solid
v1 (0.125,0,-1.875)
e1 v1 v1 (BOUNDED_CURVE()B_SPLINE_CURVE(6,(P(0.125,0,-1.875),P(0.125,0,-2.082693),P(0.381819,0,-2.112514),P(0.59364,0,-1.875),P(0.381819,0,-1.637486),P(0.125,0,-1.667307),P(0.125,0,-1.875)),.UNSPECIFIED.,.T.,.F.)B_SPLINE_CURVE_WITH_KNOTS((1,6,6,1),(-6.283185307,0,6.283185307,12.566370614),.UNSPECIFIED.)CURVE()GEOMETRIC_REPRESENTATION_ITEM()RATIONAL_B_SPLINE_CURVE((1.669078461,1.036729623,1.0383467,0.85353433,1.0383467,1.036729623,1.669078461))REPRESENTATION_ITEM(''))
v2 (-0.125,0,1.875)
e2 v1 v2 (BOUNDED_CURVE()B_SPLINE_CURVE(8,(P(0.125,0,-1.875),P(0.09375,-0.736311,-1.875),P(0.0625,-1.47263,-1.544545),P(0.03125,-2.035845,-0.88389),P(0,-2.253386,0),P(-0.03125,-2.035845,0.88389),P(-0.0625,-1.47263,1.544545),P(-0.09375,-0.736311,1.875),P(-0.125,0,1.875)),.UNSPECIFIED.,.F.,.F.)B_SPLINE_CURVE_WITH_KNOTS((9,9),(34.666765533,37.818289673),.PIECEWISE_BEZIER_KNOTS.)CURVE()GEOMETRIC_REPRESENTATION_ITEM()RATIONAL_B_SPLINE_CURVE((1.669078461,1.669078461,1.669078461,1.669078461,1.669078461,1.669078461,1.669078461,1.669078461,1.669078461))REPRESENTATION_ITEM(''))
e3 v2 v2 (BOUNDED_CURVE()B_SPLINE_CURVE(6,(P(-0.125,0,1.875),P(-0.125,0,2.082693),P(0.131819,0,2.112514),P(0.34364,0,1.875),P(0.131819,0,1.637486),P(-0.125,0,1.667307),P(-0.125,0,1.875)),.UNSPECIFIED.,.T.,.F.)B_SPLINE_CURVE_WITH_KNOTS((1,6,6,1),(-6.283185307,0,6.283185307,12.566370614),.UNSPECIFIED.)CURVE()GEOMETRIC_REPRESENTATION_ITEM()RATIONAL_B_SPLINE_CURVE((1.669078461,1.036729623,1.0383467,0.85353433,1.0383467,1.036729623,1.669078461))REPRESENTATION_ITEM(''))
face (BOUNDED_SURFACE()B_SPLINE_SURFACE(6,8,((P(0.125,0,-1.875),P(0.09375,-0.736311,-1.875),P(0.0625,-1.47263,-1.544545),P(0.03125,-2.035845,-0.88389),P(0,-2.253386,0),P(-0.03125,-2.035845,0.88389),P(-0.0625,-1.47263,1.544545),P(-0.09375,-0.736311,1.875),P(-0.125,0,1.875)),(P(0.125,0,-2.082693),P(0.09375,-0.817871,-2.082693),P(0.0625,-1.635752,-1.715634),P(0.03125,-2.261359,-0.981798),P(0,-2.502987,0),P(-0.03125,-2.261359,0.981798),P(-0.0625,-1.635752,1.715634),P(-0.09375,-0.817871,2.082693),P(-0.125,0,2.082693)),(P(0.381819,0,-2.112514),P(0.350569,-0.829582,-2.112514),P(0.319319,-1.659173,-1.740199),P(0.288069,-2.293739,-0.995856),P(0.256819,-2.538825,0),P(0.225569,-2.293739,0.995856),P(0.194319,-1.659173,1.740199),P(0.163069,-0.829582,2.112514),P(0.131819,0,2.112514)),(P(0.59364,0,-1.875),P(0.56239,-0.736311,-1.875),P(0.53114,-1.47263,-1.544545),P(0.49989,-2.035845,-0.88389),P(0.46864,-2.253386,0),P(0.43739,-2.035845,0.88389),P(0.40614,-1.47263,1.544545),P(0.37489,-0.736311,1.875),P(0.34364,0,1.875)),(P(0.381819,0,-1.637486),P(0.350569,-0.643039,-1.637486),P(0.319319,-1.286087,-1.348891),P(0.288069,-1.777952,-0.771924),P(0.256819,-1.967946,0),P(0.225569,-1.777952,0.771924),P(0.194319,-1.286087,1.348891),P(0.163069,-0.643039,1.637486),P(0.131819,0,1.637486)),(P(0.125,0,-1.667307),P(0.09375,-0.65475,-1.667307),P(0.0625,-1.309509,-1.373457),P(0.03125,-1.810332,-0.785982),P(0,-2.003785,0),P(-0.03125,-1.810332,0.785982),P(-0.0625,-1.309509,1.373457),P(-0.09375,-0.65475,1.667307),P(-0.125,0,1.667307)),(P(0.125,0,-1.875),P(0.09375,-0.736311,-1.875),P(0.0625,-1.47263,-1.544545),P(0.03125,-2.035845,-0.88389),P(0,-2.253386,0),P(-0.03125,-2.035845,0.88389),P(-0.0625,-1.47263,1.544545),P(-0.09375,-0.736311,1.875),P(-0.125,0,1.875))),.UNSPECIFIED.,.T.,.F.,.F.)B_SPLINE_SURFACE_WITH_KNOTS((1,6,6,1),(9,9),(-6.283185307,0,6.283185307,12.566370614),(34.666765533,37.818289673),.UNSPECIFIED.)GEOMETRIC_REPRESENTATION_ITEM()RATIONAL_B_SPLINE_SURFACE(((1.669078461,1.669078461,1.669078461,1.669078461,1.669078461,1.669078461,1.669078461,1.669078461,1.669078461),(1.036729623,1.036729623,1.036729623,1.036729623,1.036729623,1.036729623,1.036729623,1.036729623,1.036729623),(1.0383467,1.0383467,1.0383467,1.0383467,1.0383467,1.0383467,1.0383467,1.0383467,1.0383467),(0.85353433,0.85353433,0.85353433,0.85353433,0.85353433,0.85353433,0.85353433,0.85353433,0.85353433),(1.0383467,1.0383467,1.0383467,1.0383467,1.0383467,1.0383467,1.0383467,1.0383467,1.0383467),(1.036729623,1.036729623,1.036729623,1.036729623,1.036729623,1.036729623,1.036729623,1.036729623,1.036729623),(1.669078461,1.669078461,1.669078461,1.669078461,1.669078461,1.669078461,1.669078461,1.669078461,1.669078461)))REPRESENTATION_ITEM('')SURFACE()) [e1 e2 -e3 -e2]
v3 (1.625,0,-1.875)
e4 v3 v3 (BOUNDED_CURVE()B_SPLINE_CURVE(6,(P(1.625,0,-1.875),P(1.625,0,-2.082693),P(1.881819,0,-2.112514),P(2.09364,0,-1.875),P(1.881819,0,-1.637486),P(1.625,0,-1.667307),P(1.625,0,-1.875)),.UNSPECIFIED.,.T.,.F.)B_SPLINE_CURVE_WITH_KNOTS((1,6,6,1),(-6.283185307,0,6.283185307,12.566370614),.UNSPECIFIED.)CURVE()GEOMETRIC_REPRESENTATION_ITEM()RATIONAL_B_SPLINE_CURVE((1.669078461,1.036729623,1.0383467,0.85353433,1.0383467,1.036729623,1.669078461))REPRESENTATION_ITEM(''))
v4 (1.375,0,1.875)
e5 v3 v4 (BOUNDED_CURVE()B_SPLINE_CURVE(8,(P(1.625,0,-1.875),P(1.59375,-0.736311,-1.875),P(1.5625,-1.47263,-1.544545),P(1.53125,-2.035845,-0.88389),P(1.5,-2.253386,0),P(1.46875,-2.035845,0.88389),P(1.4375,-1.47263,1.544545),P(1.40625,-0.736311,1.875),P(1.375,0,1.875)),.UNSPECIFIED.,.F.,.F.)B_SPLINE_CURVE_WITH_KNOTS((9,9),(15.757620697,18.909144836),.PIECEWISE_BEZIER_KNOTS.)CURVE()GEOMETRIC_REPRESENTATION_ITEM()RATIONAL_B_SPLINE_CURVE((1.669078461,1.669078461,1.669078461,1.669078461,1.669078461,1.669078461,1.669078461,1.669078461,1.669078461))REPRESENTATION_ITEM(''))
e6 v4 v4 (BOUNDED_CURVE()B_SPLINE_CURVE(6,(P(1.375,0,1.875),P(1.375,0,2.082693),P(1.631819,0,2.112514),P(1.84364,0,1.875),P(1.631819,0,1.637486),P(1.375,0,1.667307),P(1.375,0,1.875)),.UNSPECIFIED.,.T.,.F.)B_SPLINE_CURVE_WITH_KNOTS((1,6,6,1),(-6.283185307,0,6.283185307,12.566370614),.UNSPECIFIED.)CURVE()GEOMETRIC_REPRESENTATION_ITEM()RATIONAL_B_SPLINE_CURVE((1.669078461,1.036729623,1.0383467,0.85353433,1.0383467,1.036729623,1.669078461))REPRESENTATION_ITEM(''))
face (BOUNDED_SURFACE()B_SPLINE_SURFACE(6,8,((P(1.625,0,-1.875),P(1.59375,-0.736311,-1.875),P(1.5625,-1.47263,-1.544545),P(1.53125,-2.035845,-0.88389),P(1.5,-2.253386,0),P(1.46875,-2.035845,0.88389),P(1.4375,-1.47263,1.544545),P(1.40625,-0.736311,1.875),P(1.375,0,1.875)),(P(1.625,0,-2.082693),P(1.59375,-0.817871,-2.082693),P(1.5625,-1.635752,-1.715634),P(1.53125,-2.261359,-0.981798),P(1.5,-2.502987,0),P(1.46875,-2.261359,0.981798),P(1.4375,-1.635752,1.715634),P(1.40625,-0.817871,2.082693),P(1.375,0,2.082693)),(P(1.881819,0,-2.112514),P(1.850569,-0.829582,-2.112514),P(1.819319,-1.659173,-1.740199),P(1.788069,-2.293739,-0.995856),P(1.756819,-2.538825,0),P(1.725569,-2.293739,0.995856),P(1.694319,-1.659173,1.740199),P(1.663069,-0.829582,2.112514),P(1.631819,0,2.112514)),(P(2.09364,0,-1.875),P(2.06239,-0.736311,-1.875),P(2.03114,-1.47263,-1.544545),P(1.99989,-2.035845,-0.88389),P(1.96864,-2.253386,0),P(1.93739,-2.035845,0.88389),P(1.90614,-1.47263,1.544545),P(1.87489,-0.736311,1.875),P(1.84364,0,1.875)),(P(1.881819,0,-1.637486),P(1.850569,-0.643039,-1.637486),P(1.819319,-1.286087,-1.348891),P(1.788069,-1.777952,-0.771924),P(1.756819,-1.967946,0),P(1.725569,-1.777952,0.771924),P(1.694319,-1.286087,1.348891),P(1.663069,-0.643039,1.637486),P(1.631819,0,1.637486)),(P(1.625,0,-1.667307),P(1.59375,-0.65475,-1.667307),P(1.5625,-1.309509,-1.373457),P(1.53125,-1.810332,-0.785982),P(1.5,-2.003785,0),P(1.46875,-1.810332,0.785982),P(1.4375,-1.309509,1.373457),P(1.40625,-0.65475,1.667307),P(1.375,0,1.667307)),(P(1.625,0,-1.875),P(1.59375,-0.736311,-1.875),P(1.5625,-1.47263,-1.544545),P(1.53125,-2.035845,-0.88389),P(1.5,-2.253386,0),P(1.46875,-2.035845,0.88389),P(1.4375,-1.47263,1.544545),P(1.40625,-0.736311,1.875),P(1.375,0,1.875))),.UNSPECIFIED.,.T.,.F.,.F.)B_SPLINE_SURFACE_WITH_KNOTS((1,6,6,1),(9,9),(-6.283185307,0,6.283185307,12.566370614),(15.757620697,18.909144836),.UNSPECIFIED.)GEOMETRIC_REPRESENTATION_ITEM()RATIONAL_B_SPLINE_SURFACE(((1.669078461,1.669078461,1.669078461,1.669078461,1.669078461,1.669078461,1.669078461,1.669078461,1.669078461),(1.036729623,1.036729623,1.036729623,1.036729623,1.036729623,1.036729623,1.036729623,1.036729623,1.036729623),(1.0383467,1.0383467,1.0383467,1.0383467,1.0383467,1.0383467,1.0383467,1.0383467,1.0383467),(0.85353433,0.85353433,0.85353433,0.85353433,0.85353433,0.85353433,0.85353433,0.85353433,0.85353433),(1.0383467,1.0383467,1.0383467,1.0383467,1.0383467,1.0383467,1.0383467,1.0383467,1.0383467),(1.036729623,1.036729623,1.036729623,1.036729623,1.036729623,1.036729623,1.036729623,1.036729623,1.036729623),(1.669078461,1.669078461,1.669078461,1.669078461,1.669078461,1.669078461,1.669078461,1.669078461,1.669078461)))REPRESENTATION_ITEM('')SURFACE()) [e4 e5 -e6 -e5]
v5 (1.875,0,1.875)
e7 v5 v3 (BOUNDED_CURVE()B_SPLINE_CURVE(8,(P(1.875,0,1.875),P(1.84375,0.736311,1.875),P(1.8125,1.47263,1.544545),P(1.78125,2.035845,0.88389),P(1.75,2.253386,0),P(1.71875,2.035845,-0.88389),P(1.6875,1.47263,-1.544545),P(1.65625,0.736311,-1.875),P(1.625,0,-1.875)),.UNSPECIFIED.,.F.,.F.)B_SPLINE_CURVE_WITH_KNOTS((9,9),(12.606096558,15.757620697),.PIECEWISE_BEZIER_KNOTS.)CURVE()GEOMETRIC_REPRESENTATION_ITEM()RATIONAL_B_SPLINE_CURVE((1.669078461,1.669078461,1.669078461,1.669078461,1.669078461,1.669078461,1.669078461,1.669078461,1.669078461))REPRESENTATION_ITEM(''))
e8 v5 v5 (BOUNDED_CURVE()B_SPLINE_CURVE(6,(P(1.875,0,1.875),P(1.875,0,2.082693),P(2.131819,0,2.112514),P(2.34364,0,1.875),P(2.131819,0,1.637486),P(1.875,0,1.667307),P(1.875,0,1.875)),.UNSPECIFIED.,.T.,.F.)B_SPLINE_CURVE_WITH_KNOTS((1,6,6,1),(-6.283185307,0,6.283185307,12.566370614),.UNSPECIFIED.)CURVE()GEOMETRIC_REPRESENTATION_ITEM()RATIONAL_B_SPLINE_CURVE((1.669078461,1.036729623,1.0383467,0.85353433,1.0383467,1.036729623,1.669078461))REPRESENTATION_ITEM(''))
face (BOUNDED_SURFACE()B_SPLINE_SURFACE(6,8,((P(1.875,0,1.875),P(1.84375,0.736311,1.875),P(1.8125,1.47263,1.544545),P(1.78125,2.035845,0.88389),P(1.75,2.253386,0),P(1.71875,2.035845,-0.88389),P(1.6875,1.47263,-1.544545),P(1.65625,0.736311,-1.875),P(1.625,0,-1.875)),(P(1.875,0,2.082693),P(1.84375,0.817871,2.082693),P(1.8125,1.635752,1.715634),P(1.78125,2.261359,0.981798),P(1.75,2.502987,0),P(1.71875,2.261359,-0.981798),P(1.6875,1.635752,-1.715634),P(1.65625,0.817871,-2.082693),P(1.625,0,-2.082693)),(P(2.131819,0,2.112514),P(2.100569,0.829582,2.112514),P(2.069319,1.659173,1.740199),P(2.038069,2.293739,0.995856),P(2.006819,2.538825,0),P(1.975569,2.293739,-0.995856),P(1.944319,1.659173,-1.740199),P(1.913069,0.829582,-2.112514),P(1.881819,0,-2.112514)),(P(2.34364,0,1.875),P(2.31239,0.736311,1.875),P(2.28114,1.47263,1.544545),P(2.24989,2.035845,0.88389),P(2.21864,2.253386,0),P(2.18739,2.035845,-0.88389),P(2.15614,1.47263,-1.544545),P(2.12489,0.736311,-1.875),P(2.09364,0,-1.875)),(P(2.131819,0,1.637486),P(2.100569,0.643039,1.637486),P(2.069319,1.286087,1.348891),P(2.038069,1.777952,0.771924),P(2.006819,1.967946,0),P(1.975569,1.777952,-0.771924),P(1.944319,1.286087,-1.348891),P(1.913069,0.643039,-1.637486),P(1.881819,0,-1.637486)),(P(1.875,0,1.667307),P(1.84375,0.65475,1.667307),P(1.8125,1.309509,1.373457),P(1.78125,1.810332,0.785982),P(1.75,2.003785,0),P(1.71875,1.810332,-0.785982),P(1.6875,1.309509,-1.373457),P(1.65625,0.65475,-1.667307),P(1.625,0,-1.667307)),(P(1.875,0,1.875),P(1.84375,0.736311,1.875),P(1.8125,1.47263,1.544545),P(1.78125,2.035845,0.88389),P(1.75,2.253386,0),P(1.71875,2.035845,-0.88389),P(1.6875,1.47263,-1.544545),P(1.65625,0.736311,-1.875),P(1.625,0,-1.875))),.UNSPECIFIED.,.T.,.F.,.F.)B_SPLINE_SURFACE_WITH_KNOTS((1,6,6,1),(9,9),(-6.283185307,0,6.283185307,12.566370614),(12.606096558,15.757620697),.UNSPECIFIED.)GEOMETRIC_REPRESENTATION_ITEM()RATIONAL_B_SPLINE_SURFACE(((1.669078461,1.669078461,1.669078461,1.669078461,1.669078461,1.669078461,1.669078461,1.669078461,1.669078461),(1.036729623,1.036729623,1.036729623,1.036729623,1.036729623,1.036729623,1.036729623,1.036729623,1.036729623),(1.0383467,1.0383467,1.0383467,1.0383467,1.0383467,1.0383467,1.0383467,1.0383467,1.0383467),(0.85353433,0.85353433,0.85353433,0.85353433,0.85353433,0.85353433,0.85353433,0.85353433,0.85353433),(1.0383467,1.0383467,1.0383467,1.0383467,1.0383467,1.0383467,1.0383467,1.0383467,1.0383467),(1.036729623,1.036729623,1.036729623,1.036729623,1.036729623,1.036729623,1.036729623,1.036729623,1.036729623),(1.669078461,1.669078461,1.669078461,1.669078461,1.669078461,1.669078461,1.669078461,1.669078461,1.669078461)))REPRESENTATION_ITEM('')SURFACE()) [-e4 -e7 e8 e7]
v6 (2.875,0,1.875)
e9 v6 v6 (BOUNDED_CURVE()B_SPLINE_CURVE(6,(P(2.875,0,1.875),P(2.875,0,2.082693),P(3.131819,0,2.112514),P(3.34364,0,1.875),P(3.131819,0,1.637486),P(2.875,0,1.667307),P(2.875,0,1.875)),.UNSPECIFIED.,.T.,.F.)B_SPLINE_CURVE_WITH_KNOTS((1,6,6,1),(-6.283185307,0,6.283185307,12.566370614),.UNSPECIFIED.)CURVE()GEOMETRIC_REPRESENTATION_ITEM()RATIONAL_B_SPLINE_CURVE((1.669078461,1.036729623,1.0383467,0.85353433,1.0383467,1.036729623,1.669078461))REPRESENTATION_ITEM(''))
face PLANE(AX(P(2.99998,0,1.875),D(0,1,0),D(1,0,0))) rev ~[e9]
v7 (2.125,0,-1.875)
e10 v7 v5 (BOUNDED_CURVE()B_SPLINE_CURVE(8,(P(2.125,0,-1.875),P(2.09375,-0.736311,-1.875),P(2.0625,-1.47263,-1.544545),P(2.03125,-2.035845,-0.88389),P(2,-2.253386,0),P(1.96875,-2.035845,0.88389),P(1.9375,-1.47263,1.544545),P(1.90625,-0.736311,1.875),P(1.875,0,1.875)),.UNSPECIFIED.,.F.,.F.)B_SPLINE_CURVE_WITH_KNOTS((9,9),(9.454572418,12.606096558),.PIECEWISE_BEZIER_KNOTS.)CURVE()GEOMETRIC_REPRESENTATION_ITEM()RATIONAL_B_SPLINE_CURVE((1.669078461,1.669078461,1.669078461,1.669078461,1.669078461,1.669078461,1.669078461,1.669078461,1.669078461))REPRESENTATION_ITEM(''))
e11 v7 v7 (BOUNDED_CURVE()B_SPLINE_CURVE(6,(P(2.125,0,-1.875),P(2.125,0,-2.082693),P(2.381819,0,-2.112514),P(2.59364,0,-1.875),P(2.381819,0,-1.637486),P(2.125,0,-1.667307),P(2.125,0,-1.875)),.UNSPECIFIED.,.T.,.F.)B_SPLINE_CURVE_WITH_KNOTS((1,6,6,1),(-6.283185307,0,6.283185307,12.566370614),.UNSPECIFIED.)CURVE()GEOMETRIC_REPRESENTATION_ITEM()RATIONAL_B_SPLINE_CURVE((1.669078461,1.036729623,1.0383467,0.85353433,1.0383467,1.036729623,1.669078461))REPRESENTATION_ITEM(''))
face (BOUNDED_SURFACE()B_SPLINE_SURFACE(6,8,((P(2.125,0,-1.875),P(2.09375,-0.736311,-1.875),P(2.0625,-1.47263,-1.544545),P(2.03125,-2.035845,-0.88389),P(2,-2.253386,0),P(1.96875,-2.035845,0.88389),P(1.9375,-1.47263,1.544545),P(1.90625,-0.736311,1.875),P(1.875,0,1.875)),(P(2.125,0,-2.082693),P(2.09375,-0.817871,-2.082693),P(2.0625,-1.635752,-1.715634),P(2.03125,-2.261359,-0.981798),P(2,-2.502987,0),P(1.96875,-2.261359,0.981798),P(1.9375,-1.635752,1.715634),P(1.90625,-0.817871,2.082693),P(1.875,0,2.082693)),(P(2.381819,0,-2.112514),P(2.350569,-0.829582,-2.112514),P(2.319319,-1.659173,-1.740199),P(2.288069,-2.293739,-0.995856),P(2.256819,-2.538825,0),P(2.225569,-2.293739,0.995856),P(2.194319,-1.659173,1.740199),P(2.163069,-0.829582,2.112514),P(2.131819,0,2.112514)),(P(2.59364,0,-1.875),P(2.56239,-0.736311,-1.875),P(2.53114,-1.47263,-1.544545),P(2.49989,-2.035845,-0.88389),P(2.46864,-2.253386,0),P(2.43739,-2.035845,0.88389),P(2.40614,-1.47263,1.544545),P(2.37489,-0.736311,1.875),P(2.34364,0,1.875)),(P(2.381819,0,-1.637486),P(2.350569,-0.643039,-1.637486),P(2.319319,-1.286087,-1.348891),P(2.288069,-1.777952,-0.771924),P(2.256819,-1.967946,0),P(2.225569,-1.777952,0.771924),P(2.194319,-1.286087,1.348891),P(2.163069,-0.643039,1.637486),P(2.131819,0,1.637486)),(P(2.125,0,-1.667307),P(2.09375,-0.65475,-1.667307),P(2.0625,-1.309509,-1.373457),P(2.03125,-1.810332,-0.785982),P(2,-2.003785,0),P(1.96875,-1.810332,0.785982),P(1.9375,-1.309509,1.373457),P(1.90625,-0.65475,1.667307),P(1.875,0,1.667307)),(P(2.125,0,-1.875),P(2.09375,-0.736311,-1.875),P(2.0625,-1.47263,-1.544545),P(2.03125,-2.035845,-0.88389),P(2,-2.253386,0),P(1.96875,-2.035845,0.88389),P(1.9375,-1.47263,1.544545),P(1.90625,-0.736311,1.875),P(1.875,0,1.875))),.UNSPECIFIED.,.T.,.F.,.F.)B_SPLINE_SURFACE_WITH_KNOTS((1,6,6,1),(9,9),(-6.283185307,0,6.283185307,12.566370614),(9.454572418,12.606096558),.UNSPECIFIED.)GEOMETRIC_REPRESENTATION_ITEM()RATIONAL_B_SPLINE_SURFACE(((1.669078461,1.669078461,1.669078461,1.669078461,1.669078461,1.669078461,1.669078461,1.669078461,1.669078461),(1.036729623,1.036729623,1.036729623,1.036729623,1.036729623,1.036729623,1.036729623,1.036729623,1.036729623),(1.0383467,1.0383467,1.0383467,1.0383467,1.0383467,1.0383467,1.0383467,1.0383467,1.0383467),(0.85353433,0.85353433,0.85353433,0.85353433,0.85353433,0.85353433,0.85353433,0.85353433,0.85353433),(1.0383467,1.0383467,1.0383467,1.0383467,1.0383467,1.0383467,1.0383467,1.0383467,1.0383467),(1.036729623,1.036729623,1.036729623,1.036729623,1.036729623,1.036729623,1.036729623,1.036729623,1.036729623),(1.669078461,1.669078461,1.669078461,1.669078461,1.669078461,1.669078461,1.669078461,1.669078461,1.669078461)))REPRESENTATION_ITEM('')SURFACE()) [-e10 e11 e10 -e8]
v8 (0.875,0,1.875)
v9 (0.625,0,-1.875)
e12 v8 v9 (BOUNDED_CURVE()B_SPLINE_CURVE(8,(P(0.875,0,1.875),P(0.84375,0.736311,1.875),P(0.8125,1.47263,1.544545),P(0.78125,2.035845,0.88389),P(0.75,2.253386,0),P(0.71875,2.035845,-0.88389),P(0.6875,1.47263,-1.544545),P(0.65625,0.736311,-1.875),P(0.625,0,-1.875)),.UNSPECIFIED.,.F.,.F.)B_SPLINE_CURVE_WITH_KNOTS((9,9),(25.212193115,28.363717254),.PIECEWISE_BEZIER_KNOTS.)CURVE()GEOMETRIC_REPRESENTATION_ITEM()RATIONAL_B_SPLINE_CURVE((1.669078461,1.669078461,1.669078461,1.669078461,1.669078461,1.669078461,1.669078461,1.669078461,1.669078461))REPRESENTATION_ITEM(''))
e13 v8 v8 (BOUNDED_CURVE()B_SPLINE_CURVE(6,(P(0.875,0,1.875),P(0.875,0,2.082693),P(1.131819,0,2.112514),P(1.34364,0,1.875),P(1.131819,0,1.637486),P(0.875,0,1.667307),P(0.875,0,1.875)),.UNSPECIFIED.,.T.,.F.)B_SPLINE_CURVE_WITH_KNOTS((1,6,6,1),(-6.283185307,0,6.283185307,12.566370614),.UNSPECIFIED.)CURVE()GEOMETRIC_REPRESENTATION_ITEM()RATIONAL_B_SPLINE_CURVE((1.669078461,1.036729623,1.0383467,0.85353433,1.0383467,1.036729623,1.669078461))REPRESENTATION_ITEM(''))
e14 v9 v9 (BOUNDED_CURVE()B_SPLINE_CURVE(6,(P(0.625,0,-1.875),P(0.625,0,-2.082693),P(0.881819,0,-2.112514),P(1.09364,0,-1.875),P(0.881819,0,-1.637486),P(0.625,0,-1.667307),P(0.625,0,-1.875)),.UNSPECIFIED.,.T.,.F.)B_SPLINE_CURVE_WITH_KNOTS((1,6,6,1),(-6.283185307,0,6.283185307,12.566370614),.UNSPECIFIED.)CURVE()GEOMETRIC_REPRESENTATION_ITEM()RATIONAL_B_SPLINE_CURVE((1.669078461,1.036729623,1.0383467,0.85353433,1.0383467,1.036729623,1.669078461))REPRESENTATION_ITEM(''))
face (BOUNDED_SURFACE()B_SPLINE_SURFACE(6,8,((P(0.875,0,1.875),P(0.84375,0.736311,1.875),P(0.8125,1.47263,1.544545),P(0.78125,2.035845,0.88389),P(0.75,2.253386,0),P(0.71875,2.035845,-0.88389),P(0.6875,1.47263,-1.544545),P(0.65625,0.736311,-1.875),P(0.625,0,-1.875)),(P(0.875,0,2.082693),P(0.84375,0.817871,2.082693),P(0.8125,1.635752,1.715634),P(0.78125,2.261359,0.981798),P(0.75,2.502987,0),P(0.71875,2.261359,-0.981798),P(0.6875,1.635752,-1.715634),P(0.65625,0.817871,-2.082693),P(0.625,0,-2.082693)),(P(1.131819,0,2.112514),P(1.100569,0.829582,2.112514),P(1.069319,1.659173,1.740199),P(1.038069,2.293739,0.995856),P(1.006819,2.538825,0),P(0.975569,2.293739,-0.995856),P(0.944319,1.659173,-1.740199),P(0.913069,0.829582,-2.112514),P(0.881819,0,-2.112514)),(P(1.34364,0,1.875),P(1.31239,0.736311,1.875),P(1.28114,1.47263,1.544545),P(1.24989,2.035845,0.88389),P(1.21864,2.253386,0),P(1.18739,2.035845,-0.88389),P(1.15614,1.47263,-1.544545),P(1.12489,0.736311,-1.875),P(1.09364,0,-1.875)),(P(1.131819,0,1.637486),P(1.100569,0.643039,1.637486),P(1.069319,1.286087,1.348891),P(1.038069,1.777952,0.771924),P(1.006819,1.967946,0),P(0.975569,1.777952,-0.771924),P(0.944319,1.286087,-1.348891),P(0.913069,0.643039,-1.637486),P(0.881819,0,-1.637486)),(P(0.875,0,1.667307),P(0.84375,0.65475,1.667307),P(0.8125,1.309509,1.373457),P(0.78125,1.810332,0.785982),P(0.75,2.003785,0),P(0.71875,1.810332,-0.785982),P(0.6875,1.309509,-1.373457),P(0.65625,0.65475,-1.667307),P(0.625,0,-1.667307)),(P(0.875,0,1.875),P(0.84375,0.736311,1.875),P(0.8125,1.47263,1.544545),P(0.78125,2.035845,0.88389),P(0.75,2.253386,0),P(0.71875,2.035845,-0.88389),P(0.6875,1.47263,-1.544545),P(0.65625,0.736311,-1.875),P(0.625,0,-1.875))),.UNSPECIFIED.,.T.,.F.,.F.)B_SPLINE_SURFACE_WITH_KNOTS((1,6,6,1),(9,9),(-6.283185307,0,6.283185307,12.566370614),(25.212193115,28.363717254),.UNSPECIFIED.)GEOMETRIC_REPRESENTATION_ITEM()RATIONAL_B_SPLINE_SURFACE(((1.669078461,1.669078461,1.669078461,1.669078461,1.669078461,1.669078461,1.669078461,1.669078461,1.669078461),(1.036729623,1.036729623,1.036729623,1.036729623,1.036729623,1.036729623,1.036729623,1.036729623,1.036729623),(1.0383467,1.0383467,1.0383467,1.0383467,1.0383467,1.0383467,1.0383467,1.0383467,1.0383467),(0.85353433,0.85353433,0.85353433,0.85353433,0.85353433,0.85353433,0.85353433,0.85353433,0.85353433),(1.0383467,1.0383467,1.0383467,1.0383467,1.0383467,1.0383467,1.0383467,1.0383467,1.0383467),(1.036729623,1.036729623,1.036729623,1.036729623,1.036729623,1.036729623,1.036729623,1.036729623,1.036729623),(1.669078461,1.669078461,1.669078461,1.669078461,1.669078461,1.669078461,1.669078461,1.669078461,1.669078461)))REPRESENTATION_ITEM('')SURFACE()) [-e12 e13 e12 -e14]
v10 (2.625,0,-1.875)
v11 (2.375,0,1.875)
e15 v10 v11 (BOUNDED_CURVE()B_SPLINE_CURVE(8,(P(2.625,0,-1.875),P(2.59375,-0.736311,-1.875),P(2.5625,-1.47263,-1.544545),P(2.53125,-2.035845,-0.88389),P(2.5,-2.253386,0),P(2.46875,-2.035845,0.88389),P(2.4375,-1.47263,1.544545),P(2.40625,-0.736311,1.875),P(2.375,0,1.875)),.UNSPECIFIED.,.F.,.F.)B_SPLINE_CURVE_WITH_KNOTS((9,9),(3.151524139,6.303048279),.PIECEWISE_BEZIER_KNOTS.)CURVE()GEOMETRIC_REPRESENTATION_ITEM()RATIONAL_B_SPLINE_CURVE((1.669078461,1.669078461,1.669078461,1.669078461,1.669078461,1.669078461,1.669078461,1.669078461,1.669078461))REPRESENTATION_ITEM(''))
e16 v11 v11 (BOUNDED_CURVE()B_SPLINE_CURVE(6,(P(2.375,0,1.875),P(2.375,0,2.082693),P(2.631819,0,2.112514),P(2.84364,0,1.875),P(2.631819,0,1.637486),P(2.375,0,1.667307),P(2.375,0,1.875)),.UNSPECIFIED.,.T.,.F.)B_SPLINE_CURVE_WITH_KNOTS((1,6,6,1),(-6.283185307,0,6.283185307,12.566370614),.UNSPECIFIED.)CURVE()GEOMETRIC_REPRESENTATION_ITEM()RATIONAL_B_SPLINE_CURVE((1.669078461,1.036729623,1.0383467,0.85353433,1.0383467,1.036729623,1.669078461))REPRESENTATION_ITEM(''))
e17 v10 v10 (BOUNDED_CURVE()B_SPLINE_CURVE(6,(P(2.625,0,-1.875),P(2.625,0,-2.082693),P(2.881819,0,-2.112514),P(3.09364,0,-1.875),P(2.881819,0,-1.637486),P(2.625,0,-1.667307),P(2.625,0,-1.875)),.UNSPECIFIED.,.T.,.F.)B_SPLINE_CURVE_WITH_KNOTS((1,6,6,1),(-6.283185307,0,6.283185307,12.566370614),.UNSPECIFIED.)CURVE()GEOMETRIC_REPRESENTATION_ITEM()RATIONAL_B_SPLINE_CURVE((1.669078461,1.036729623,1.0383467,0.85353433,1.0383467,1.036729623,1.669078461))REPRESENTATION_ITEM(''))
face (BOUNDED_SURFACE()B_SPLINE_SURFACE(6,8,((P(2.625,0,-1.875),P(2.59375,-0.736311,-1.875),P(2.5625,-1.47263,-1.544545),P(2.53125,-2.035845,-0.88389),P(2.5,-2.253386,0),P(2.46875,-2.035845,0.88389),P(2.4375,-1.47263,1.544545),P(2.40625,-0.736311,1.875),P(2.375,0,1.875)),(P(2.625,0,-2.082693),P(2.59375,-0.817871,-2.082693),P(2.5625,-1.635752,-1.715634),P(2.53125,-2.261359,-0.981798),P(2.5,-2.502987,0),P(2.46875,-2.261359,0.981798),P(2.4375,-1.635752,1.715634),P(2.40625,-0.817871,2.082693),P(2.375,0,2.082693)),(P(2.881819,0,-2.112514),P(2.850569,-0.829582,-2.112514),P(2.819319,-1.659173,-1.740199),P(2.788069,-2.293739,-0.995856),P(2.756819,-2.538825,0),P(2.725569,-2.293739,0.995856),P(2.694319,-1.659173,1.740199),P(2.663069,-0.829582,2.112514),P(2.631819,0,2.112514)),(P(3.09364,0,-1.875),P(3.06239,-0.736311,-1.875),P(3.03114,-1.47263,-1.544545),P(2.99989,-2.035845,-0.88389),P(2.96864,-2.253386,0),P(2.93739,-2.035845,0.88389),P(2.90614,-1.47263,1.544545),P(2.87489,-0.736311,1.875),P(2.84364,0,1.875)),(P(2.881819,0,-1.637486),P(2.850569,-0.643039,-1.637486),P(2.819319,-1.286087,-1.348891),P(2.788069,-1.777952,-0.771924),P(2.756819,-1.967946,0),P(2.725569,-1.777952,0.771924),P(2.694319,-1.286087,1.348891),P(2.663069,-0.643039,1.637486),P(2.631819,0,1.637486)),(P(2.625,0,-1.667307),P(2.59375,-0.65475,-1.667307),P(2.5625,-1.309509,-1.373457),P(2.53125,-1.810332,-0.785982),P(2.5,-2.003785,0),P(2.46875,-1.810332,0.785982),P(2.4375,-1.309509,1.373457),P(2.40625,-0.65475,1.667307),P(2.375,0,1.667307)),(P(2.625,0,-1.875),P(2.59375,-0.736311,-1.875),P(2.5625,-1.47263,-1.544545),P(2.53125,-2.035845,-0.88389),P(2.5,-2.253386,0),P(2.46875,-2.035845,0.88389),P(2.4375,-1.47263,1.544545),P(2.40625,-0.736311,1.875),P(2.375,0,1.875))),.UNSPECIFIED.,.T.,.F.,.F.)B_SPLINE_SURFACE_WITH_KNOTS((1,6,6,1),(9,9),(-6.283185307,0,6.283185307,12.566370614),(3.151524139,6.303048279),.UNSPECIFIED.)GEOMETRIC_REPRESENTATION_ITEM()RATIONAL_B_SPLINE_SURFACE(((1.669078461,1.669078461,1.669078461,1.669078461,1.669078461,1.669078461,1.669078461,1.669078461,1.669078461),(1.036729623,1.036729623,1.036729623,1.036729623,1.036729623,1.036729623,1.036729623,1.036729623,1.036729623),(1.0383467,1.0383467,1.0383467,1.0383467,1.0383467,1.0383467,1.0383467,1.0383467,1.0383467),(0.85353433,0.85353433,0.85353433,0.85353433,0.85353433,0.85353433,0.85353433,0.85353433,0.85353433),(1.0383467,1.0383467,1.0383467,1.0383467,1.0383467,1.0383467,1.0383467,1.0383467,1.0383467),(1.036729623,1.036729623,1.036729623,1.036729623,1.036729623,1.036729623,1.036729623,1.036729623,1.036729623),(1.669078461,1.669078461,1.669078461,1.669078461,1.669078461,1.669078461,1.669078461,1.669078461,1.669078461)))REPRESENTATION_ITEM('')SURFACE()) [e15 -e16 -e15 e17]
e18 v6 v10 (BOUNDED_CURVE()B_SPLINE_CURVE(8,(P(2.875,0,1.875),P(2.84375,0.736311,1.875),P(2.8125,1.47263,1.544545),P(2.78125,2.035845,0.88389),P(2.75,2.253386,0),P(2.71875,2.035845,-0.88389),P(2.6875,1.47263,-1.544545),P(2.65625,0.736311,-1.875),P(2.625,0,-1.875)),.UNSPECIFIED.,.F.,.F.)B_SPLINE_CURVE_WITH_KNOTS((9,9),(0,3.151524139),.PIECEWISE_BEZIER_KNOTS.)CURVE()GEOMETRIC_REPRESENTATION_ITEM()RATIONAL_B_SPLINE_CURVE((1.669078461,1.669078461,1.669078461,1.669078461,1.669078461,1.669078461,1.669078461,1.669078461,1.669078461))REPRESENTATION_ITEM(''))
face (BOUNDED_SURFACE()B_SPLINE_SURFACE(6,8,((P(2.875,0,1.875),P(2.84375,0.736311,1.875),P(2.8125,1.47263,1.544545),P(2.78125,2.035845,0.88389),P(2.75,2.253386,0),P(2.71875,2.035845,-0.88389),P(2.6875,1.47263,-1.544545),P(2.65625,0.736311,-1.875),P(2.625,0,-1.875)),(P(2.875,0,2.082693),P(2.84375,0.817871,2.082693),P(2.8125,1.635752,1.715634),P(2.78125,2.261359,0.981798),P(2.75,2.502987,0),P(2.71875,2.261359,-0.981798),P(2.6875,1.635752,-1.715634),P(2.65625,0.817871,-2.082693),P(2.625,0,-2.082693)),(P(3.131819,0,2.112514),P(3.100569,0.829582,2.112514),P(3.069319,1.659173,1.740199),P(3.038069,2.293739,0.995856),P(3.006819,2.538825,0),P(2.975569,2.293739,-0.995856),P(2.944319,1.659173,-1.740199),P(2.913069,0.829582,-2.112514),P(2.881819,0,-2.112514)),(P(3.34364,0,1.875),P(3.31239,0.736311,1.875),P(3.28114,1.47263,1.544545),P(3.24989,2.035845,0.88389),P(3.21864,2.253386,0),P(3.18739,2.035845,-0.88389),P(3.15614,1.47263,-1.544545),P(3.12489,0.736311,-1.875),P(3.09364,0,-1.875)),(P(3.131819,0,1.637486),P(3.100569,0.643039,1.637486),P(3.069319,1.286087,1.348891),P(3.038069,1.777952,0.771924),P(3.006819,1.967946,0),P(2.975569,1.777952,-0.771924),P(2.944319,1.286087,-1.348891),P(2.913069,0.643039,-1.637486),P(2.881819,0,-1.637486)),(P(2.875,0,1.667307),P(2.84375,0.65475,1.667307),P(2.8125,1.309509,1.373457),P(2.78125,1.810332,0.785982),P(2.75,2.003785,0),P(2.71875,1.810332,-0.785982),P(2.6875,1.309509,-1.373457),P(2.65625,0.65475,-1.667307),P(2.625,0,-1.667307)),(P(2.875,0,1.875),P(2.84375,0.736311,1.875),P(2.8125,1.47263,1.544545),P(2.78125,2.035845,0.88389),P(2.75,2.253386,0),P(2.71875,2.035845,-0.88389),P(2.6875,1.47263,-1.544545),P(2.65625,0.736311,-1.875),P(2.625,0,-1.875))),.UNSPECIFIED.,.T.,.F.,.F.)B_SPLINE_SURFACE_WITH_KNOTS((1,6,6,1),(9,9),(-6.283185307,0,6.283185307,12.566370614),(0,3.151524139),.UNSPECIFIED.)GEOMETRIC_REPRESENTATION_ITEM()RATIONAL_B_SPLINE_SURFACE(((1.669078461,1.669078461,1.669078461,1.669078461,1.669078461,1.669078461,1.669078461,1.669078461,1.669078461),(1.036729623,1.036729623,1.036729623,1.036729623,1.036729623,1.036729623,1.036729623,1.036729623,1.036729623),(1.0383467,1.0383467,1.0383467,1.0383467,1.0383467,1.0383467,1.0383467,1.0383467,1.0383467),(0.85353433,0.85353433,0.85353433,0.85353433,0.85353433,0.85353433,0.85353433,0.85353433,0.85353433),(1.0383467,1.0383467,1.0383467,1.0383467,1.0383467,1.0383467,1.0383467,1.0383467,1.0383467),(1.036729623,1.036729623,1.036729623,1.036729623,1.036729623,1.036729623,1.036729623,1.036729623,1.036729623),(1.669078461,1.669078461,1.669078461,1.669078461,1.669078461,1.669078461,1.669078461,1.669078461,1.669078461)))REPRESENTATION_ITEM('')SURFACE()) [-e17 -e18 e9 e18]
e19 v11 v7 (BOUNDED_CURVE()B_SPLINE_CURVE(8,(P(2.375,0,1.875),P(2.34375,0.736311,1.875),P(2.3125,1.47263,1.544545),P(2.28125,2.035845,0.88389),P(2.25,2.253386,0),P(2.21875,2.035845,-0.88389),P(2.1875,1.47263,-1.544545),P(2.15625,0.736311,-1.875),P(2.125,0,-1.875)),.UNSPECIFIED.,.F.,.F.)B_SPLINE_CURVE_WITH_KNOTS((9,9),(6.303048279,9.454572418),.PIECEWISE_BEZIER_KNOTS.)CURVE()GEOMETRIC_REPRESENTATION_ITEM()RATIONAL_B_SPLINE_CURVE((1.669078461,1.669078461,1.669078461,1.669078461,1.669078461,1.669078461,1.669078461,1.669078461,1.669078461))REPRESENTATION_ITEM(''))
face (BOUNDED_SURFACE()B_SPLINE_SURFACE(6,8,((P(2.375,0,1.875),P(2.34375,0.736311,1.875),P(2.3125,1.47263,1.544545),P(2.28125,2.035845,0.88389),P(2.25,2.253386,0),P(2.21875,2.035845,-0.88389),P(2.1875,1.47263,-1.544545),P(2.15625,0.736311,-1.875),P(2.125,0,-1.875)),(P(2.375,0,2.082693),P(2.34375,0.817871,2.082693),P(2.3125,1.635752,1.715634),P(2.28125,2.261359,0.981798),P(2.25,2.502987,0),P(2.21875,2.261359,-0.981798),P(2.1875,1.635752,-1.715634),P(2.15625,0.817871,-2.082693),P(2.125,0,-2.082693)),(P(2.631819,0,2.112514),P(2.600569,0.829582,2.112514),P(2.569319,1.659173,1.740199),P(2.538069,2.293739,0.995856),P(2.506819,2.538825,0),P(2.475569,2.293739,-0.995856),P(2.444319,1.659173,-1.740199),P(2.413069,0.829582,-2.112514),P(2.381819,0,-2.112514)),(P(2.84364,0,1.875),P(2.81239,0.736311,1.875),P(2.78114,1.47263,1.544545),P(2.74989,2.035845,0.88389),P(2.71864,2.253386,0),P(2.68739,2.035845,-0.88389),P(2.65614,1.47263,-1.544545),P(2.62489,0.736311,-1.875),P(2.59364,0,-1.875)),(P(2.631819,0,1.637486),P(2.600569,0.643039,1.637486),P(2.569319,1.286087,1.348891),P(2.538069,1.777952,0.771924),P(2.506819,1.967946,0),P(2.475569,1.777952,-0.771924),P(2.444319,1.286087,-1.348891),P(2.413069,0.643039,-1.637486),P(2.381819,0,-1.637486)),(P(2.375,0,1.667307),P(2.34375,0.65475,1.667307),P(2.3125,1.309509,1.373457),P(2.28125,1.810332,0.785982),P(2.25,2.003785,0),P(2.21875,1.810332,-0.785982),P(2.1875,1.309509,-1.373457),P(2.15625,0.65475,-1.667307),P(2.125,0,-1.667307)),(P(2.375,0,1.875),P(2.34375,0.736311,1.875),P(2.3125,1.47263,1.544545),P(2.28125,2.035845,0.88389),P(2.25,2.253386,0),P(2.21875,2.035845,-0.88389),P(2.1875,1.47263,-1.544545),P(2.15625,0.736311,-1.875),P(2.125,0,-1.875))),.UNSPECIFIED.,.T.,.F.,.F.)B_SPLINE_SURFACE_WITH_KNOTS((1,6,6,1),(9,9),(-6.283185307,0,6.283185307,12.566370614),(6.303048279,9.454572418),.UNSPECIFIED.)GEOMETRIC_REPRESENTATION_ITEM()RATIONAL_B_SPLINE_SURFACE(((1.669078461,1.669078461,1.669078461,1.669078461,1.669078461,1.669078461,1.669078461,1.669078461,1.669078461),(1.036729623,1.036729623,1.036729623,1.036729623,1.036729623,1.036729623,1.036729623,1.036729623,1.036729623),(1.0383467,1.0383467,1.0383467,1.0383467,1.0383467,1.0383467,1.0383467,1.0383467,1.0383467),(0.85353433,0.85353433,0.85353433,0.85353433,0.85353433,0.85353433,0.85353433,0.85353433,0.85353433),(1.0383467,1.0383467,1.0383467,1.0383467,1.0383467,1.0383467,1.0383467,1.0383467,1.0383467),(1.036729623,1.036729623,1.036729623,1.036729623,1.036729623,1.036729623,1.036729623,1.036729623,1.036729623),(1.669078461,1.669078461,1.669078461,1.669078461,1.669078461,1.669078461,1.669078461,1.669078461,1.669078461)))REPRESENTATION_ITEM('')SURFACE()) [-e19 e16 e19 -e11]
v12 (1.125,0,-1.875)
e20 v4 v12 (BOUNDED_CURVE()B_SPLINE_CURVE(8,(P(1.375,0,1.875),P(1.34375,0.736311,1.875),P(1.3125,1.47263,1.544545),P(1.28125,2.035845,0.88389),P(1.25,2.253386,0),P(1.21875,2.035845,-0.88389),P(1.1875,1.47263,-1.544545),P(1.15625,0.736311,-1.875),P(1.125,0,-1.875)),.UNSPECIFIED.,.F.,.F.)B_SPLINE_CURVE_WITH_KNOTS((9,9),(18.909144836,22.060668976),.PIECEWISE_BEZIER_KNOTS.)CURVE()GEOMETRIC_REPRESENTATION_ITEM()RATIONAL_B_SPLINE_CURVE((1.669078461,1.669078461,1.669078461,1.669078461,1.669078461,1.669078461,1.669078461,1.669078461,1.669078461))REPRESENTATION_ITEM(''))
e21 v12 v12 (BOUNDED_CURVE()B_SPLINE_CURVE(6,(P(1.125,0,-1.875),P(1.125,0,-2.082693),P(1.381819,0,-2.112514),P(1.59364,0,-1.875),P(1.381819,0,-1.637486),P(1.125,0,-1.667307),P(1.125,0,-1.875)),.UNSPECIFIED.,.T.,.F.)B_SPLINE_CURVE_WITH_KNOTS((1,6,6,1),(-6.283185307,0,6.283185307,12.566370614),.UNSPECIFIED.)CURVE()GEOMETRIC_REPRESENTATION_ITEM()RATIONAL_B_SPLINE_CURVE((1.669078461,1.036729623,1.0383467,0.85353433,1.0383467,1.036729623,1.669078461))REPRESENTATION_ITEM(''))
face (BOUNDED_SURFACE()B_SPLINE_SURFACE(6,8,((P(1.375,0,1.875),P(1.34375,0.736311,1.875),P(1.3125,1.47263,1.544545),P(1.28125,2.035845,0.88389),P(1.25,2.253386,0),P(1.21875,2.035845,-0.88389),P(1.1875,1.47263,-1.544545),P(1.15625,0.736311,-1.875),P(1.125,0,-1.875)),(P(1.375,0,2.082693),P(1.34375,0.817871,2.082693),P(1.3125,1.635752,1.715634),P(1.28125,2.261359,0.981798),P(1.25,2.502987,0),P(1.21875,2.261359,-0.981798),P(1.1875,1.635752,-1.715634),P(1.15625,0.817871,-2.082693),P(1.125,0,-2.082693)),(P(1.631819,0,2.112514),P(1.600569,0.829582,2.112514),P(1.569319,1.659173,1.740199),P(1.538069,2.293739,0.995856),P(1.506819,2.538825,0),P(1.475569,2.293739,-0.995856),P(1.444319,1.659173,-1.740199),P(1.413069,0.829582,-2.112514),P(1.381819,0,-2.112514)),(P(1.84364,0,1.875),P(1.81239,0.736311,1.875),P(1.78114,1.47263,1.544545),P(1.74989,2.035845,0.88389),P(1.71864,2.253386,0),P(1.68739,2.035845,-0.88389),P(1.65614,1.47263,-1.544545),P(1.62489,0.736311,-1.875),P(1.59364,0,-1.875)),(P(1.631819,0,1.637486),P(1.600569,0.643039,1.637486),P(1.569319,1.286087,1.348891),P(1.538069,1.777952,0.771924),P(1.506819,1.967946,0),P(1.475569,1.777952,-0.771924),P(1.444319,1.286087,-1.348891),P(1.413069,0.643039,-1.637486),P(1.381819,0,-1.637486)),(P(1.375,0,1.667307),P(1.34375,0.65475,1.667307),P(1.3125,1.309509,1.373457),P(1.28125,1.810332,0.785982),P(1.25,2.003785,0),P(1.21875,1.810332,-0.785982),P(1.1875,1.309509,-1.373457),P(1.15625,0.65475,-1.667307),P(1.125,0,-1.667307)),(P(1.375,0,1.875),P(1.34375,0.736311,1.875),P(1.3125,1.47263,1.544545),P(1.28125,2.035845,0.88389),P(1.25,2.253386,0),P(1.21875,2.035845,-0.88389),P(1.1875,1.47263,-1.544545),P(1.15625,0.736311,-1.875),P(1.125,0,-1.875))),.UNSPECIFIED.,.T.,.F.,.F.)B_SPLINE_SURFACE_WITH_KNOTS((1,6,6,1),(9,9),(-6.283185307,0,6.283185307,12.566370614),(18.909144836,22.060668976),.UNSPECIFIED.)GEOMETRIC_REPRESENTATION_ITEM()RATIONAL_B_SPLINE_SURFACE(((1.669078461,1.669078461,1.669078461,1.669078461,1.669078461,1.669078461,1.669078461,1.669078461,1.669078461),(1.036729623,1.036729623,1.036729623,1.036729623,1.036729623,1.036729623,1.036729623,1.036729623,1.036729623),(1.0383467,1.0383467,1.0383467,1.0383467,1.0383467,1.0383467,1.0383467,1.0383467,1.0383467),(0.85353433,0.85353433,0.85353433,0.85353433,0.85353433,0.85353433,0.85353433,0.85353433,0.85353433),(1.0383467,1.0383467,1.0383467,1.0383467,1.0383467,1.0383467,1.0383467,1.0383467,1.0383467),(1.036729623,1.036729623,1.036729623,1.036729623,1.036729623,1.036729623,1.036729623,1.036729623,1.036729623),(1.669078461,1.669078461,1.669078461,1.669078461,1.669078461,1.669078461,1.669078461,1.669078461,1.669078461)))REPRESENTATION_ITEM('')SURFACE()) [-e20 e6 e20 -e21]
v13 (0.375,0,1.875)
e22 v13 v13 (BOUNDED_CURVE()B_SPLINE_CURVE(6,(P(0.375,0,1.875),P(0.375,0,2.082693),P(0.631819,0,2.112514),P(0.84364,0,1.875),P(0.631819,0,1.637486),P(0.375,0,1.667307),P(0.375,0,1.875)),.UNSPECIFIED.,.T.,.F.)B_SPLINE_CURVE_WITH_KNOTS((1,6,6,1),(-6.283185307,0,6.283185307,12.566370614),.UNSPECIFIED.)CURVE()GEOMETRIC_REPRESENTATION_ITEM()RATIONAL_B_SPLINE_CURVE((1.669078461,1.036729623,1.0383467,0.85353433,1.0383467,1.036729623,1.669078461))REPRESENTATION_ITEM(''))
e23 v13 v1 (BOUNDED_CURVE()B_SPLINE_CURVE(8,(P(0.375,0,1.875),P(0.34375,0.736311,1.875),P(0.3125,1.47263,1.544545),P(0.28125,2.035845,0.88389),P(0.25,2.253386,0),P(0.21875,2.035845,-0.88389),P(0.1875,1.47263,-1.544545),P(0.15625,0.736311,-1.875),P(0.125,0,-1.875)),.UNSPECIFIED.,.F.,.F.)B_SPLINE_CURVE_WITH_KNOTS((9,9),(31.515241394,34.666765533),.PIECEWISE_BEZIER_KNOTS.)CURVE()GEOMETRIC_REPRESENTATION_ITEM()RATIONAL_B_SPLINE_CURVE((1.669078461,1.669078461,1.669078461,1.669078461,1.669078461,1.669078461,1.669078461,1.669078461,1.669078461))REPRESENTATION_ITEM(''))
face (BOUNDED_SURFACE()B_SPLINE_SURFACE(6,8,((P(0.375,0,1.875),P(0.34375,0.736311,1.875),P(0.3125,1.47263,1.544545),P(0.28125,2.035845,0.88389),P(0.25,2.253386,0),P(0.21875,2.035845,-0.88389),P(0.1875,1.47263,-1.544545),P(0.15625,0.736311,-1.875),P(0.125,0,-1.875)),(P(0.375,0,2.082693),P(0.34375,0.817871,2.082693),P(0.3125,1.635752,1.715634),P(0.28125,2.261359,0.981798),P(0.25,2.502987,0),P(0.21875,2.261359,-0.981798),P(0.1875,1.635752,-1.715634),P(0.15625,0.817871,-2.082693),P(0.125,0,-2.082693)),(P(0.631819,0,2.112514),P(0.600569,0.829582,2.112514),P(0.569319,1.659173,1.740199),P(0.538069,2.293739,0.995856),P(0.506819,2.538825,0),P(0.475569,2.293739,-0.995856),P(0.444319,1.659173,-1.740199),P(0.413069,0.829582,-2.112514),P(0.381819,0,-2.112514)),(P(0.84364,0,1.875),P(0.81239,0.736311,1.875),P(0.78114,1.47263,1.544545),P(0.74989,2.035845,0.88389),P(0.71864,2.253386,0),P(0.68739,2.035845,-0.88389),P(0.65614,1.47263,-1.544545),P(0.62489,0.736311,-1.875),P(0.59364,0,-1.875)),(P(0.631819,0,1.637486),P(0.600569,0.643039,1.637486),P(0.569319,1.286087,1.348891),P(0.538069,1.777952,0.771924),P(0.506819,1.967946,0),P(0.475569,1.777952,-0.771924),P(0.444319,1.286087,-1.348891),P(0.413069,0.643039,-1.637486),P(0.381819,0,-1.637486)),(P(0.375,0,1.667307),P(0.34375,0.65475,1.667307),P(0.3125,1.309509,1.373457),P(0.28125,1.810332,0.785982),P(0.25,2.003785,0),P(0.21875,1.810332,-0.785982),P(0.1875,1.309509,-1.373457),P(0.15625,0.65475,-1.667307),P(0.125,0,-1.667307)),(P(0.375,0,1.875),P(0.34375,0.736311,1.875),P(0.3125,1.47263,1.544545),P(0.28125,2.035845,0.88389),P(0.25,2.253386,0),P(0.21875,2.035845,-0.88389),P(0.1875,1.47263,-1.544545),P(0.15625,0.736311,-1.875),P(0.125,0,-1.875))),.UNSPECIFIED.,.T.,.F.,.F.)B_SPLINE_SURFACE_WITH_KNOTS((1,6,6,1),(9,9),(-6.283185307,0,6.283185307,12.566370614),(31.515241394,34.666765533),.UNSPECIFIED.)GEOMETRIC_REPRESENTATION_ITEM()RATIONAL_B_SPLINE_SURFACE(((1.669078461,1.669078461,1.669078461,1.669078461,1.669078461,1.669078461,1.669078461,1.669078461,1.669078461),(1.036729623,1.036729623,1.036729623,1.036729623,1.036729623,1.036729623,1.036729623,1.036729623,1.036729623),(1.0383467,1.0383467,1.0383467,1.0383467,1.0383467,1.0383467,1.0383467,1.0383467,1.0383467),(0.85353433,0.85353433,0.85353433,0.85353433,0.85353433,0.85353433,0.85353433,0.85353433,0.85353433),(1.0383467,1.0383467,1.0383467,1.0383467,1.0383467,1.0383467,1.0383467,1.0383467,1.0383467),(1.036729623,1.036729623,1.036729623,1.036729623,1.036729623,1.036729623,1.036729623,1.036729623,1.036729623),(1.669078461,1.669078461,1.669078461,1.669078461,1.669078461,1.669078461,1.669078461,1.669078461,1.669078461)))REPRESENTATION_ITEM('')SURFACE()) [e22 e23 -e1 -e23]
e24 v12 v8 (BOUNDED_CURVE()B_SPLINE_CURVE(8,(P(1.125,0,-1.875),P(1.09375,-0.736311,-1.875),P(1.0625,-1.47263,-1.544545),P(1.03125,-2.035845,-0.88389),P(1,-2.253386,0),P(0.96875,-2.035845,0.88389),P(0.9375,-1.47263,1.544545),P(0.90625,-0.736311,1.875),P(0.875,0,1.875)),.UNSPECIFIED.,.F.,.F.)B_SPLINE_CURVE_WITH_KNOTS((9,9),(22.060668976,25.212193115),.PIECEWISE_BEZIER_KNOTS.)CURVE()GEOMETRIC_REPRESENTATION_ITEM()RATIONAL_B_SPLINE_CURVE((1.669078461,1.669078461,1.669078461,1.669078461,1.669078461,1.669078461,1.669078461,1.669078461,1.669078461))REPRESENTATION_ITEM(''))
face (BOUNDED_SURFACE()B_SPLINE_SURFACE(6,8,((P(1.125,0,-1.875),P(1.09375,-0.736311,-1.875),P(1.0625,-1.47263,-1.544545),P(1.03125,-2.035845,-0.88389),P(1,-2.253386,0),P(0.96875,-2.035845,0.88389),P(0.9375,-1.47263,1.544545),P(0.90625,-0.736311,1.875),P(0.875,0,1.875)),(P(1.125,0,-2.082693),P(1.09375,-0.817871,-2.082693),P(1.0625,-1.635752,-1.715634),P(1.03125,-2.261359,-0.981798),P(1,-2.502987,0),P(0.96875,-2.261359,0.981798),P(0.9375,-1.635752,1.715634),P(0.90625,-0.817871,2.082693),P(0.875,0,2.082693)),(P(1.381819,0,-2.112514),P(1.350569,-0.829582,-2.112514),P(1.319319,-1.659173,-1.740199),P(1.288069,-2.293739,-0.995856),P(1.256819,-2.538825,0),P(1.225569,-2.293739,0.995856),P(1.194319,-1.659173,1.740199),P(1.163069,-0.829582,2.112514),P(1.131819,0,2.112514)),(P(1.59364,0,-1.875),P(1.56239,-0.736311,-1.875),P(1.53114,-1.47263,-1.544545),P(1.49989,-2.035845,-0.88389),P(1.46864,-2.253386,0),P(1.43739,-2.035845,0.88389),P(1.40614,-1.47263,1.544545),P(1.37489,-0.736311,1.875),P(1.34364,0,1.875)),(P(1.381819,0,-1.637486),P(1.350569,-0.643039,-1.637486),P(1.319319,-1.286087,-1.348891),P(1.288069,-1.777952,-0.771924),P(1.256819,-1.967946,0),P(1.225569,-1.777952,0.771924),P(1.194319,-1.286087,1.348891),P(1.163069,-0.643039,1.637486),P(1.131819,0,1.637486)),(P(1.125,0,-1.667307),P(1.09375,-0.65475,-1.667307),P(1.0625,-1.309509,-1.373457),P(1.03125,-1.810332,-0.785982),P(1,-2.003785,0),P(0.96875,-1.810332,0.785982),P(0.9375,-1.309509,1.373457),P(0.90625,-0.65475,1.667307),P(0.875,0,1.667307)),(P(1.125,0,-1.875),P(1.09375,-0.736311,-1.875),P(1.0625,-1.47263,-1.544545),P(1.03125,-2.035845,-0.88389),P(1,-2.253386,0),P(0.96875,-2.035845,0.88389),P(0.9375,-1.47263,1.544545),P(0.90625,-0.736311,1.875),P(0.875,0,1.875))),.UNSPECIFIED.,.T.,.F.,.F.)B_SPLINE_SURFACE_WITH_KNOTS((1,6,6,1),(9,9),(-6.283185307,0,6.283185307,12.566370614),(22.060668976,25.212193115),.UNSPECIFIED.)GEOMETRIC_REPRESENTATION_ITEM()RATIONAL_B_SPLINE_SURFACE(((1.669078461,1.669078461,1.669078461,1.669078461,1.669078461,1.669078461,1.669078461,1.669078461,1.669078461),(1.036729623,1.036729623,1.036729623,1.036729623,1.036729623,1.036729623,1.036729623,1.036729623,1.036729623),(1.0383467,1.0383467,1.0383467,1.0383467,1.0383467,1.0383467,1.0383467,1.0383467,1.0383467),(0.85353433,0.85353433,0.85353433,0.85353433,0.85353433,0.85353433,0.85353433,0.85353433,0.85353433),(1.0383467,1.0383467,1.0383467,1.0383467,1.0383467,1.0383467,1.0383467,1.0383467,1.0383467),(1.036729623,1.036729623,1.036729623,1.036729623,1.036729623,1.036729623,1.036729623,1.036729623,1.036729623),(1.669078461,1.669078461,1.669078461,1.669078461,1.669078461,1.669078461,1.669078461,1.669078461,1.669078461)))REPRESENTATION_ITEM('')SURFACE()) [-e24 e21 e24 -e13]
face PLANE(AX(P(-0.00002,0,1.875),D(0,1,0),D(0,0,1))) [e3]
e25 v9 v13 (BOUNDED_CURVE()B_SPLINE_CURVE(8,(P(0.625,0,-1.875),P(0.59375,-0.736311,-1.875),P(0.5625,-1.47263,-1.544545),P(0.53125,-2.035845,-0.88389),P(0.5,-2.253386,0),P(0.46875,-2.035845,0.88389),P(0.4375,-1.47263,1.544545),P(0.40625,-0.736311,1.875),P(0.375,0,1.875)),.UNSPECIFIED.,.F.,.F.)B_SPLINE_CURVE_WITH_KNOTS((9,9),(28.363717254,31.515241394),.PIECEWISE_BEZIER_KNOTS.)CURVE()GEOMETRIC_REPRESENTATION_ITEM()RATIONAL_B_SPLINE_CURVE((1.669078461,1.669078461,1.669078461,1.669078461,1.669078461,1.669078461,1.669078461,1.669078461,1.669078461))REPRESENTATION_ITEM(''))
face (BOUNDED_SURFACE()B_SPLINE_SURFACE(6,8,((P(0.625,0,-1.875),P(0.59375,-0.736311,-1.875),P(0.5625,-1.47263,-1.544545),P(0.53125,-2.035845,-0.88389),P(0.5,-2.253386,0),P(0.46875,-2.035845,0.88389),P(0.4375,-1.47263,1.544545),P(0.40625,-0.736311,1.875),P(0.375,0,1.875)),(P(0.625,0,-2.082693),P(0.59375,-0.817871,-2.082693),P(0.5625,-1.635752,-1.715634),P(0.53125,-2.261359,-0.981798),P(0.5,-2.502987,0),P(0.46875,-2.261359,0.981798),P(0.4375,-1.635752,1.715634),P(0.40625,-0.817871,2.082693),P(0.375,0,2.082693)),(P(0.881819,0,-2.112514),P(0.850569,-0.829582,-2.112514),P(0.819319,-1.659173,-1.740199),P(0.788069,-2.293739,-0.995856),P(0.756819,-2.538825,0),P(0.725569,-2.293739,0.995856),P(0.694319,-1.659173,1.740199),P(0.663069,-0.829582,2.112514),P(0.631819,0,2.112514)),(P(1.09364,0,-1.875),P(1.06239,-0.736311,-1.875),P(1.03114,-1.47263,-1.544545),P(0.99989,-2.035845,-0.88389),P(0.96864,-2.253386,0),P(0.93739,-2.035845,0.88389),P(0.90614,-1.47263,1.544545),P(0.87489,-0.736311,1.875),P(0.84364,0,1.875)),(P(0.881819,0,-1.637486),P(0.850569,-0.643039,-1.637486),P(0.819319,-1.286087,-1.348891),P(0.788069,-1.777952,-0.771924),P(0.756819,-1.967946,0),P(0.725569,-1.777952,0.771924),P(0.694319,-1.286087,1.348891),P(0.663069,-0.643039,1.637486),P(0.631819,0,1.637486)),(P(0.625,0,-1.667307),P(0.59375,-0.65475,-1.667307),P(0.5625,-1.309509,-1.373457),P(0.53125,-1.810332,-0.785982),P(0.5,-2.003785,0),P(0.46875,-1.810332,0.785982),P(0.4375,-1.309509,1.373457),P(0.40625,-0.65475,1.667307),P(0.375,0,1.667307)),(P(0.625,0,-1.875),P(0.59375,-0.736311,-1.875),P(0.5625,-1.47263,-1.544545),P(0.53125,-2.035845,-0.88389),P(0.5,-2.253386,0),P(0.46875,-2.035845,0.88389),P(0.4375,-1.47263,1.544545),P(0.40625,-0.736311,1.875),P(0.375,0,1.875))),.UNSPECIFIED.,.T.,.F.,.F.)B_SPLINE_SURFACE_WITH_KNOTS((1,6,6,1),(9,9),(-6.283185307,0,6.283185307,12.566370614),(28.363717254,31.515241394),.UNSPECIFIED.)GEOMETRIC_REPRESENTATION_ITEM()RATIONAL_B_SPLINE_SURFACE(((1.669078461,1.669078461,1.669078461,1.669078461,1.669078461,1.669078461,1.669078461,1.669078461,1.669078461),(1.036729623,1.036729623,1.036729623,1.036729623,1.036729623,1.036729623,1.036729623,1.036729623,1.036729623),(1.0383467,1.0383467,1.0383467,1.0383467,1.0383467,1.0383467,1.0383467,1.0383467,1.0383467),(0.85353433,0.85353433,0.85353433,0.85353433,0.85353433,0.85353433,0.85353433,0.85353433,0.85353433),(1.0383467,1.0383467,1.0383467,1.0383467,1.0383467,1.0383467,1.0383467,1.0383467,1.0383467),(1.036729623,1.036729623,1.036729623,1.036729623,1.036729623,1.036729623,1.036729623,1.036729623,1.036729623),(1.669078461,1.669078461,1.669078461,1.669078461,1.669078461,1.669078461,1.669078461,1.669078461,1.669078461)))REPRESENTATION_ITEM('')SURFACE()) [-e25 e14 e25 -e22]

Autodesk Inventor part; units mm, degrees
ref_plane "YZ Plane" through (0, 0, 0) normal (1, 0, 0) x (0, 1, 0)
ref_plane "XZ Plane" through (0, 0, 0) normal (0, 1, 0) x (-1, 0, 0)
ref_plane "XY Plane" through (0, 0, 0) normal (0, 0, 1) x (1, 0, 0)
sketch "Sketch1" plane through (0, 0, 0) normal (0, 1, 0) x (-1, 0, 0)
  line L0 (0, 0) -> (-3, 0)
  circle A0 centre (-3, 1.875) radius 0.125
coil "Coil1" sketch "Sketch1" operation add axis through (0, 0, 0) along (-1, 0, 0) pitch 0.5 turns 6 hand right
sketch "Sketch2" plane through (0, 0, 0) normal (1, 0, 0) x (0, 1, 0)
  circle A0 centre (0, 0) radius 2
  dimension "d11" = 4
properties part number "Spring_thumb" material "ABS Plastic"
